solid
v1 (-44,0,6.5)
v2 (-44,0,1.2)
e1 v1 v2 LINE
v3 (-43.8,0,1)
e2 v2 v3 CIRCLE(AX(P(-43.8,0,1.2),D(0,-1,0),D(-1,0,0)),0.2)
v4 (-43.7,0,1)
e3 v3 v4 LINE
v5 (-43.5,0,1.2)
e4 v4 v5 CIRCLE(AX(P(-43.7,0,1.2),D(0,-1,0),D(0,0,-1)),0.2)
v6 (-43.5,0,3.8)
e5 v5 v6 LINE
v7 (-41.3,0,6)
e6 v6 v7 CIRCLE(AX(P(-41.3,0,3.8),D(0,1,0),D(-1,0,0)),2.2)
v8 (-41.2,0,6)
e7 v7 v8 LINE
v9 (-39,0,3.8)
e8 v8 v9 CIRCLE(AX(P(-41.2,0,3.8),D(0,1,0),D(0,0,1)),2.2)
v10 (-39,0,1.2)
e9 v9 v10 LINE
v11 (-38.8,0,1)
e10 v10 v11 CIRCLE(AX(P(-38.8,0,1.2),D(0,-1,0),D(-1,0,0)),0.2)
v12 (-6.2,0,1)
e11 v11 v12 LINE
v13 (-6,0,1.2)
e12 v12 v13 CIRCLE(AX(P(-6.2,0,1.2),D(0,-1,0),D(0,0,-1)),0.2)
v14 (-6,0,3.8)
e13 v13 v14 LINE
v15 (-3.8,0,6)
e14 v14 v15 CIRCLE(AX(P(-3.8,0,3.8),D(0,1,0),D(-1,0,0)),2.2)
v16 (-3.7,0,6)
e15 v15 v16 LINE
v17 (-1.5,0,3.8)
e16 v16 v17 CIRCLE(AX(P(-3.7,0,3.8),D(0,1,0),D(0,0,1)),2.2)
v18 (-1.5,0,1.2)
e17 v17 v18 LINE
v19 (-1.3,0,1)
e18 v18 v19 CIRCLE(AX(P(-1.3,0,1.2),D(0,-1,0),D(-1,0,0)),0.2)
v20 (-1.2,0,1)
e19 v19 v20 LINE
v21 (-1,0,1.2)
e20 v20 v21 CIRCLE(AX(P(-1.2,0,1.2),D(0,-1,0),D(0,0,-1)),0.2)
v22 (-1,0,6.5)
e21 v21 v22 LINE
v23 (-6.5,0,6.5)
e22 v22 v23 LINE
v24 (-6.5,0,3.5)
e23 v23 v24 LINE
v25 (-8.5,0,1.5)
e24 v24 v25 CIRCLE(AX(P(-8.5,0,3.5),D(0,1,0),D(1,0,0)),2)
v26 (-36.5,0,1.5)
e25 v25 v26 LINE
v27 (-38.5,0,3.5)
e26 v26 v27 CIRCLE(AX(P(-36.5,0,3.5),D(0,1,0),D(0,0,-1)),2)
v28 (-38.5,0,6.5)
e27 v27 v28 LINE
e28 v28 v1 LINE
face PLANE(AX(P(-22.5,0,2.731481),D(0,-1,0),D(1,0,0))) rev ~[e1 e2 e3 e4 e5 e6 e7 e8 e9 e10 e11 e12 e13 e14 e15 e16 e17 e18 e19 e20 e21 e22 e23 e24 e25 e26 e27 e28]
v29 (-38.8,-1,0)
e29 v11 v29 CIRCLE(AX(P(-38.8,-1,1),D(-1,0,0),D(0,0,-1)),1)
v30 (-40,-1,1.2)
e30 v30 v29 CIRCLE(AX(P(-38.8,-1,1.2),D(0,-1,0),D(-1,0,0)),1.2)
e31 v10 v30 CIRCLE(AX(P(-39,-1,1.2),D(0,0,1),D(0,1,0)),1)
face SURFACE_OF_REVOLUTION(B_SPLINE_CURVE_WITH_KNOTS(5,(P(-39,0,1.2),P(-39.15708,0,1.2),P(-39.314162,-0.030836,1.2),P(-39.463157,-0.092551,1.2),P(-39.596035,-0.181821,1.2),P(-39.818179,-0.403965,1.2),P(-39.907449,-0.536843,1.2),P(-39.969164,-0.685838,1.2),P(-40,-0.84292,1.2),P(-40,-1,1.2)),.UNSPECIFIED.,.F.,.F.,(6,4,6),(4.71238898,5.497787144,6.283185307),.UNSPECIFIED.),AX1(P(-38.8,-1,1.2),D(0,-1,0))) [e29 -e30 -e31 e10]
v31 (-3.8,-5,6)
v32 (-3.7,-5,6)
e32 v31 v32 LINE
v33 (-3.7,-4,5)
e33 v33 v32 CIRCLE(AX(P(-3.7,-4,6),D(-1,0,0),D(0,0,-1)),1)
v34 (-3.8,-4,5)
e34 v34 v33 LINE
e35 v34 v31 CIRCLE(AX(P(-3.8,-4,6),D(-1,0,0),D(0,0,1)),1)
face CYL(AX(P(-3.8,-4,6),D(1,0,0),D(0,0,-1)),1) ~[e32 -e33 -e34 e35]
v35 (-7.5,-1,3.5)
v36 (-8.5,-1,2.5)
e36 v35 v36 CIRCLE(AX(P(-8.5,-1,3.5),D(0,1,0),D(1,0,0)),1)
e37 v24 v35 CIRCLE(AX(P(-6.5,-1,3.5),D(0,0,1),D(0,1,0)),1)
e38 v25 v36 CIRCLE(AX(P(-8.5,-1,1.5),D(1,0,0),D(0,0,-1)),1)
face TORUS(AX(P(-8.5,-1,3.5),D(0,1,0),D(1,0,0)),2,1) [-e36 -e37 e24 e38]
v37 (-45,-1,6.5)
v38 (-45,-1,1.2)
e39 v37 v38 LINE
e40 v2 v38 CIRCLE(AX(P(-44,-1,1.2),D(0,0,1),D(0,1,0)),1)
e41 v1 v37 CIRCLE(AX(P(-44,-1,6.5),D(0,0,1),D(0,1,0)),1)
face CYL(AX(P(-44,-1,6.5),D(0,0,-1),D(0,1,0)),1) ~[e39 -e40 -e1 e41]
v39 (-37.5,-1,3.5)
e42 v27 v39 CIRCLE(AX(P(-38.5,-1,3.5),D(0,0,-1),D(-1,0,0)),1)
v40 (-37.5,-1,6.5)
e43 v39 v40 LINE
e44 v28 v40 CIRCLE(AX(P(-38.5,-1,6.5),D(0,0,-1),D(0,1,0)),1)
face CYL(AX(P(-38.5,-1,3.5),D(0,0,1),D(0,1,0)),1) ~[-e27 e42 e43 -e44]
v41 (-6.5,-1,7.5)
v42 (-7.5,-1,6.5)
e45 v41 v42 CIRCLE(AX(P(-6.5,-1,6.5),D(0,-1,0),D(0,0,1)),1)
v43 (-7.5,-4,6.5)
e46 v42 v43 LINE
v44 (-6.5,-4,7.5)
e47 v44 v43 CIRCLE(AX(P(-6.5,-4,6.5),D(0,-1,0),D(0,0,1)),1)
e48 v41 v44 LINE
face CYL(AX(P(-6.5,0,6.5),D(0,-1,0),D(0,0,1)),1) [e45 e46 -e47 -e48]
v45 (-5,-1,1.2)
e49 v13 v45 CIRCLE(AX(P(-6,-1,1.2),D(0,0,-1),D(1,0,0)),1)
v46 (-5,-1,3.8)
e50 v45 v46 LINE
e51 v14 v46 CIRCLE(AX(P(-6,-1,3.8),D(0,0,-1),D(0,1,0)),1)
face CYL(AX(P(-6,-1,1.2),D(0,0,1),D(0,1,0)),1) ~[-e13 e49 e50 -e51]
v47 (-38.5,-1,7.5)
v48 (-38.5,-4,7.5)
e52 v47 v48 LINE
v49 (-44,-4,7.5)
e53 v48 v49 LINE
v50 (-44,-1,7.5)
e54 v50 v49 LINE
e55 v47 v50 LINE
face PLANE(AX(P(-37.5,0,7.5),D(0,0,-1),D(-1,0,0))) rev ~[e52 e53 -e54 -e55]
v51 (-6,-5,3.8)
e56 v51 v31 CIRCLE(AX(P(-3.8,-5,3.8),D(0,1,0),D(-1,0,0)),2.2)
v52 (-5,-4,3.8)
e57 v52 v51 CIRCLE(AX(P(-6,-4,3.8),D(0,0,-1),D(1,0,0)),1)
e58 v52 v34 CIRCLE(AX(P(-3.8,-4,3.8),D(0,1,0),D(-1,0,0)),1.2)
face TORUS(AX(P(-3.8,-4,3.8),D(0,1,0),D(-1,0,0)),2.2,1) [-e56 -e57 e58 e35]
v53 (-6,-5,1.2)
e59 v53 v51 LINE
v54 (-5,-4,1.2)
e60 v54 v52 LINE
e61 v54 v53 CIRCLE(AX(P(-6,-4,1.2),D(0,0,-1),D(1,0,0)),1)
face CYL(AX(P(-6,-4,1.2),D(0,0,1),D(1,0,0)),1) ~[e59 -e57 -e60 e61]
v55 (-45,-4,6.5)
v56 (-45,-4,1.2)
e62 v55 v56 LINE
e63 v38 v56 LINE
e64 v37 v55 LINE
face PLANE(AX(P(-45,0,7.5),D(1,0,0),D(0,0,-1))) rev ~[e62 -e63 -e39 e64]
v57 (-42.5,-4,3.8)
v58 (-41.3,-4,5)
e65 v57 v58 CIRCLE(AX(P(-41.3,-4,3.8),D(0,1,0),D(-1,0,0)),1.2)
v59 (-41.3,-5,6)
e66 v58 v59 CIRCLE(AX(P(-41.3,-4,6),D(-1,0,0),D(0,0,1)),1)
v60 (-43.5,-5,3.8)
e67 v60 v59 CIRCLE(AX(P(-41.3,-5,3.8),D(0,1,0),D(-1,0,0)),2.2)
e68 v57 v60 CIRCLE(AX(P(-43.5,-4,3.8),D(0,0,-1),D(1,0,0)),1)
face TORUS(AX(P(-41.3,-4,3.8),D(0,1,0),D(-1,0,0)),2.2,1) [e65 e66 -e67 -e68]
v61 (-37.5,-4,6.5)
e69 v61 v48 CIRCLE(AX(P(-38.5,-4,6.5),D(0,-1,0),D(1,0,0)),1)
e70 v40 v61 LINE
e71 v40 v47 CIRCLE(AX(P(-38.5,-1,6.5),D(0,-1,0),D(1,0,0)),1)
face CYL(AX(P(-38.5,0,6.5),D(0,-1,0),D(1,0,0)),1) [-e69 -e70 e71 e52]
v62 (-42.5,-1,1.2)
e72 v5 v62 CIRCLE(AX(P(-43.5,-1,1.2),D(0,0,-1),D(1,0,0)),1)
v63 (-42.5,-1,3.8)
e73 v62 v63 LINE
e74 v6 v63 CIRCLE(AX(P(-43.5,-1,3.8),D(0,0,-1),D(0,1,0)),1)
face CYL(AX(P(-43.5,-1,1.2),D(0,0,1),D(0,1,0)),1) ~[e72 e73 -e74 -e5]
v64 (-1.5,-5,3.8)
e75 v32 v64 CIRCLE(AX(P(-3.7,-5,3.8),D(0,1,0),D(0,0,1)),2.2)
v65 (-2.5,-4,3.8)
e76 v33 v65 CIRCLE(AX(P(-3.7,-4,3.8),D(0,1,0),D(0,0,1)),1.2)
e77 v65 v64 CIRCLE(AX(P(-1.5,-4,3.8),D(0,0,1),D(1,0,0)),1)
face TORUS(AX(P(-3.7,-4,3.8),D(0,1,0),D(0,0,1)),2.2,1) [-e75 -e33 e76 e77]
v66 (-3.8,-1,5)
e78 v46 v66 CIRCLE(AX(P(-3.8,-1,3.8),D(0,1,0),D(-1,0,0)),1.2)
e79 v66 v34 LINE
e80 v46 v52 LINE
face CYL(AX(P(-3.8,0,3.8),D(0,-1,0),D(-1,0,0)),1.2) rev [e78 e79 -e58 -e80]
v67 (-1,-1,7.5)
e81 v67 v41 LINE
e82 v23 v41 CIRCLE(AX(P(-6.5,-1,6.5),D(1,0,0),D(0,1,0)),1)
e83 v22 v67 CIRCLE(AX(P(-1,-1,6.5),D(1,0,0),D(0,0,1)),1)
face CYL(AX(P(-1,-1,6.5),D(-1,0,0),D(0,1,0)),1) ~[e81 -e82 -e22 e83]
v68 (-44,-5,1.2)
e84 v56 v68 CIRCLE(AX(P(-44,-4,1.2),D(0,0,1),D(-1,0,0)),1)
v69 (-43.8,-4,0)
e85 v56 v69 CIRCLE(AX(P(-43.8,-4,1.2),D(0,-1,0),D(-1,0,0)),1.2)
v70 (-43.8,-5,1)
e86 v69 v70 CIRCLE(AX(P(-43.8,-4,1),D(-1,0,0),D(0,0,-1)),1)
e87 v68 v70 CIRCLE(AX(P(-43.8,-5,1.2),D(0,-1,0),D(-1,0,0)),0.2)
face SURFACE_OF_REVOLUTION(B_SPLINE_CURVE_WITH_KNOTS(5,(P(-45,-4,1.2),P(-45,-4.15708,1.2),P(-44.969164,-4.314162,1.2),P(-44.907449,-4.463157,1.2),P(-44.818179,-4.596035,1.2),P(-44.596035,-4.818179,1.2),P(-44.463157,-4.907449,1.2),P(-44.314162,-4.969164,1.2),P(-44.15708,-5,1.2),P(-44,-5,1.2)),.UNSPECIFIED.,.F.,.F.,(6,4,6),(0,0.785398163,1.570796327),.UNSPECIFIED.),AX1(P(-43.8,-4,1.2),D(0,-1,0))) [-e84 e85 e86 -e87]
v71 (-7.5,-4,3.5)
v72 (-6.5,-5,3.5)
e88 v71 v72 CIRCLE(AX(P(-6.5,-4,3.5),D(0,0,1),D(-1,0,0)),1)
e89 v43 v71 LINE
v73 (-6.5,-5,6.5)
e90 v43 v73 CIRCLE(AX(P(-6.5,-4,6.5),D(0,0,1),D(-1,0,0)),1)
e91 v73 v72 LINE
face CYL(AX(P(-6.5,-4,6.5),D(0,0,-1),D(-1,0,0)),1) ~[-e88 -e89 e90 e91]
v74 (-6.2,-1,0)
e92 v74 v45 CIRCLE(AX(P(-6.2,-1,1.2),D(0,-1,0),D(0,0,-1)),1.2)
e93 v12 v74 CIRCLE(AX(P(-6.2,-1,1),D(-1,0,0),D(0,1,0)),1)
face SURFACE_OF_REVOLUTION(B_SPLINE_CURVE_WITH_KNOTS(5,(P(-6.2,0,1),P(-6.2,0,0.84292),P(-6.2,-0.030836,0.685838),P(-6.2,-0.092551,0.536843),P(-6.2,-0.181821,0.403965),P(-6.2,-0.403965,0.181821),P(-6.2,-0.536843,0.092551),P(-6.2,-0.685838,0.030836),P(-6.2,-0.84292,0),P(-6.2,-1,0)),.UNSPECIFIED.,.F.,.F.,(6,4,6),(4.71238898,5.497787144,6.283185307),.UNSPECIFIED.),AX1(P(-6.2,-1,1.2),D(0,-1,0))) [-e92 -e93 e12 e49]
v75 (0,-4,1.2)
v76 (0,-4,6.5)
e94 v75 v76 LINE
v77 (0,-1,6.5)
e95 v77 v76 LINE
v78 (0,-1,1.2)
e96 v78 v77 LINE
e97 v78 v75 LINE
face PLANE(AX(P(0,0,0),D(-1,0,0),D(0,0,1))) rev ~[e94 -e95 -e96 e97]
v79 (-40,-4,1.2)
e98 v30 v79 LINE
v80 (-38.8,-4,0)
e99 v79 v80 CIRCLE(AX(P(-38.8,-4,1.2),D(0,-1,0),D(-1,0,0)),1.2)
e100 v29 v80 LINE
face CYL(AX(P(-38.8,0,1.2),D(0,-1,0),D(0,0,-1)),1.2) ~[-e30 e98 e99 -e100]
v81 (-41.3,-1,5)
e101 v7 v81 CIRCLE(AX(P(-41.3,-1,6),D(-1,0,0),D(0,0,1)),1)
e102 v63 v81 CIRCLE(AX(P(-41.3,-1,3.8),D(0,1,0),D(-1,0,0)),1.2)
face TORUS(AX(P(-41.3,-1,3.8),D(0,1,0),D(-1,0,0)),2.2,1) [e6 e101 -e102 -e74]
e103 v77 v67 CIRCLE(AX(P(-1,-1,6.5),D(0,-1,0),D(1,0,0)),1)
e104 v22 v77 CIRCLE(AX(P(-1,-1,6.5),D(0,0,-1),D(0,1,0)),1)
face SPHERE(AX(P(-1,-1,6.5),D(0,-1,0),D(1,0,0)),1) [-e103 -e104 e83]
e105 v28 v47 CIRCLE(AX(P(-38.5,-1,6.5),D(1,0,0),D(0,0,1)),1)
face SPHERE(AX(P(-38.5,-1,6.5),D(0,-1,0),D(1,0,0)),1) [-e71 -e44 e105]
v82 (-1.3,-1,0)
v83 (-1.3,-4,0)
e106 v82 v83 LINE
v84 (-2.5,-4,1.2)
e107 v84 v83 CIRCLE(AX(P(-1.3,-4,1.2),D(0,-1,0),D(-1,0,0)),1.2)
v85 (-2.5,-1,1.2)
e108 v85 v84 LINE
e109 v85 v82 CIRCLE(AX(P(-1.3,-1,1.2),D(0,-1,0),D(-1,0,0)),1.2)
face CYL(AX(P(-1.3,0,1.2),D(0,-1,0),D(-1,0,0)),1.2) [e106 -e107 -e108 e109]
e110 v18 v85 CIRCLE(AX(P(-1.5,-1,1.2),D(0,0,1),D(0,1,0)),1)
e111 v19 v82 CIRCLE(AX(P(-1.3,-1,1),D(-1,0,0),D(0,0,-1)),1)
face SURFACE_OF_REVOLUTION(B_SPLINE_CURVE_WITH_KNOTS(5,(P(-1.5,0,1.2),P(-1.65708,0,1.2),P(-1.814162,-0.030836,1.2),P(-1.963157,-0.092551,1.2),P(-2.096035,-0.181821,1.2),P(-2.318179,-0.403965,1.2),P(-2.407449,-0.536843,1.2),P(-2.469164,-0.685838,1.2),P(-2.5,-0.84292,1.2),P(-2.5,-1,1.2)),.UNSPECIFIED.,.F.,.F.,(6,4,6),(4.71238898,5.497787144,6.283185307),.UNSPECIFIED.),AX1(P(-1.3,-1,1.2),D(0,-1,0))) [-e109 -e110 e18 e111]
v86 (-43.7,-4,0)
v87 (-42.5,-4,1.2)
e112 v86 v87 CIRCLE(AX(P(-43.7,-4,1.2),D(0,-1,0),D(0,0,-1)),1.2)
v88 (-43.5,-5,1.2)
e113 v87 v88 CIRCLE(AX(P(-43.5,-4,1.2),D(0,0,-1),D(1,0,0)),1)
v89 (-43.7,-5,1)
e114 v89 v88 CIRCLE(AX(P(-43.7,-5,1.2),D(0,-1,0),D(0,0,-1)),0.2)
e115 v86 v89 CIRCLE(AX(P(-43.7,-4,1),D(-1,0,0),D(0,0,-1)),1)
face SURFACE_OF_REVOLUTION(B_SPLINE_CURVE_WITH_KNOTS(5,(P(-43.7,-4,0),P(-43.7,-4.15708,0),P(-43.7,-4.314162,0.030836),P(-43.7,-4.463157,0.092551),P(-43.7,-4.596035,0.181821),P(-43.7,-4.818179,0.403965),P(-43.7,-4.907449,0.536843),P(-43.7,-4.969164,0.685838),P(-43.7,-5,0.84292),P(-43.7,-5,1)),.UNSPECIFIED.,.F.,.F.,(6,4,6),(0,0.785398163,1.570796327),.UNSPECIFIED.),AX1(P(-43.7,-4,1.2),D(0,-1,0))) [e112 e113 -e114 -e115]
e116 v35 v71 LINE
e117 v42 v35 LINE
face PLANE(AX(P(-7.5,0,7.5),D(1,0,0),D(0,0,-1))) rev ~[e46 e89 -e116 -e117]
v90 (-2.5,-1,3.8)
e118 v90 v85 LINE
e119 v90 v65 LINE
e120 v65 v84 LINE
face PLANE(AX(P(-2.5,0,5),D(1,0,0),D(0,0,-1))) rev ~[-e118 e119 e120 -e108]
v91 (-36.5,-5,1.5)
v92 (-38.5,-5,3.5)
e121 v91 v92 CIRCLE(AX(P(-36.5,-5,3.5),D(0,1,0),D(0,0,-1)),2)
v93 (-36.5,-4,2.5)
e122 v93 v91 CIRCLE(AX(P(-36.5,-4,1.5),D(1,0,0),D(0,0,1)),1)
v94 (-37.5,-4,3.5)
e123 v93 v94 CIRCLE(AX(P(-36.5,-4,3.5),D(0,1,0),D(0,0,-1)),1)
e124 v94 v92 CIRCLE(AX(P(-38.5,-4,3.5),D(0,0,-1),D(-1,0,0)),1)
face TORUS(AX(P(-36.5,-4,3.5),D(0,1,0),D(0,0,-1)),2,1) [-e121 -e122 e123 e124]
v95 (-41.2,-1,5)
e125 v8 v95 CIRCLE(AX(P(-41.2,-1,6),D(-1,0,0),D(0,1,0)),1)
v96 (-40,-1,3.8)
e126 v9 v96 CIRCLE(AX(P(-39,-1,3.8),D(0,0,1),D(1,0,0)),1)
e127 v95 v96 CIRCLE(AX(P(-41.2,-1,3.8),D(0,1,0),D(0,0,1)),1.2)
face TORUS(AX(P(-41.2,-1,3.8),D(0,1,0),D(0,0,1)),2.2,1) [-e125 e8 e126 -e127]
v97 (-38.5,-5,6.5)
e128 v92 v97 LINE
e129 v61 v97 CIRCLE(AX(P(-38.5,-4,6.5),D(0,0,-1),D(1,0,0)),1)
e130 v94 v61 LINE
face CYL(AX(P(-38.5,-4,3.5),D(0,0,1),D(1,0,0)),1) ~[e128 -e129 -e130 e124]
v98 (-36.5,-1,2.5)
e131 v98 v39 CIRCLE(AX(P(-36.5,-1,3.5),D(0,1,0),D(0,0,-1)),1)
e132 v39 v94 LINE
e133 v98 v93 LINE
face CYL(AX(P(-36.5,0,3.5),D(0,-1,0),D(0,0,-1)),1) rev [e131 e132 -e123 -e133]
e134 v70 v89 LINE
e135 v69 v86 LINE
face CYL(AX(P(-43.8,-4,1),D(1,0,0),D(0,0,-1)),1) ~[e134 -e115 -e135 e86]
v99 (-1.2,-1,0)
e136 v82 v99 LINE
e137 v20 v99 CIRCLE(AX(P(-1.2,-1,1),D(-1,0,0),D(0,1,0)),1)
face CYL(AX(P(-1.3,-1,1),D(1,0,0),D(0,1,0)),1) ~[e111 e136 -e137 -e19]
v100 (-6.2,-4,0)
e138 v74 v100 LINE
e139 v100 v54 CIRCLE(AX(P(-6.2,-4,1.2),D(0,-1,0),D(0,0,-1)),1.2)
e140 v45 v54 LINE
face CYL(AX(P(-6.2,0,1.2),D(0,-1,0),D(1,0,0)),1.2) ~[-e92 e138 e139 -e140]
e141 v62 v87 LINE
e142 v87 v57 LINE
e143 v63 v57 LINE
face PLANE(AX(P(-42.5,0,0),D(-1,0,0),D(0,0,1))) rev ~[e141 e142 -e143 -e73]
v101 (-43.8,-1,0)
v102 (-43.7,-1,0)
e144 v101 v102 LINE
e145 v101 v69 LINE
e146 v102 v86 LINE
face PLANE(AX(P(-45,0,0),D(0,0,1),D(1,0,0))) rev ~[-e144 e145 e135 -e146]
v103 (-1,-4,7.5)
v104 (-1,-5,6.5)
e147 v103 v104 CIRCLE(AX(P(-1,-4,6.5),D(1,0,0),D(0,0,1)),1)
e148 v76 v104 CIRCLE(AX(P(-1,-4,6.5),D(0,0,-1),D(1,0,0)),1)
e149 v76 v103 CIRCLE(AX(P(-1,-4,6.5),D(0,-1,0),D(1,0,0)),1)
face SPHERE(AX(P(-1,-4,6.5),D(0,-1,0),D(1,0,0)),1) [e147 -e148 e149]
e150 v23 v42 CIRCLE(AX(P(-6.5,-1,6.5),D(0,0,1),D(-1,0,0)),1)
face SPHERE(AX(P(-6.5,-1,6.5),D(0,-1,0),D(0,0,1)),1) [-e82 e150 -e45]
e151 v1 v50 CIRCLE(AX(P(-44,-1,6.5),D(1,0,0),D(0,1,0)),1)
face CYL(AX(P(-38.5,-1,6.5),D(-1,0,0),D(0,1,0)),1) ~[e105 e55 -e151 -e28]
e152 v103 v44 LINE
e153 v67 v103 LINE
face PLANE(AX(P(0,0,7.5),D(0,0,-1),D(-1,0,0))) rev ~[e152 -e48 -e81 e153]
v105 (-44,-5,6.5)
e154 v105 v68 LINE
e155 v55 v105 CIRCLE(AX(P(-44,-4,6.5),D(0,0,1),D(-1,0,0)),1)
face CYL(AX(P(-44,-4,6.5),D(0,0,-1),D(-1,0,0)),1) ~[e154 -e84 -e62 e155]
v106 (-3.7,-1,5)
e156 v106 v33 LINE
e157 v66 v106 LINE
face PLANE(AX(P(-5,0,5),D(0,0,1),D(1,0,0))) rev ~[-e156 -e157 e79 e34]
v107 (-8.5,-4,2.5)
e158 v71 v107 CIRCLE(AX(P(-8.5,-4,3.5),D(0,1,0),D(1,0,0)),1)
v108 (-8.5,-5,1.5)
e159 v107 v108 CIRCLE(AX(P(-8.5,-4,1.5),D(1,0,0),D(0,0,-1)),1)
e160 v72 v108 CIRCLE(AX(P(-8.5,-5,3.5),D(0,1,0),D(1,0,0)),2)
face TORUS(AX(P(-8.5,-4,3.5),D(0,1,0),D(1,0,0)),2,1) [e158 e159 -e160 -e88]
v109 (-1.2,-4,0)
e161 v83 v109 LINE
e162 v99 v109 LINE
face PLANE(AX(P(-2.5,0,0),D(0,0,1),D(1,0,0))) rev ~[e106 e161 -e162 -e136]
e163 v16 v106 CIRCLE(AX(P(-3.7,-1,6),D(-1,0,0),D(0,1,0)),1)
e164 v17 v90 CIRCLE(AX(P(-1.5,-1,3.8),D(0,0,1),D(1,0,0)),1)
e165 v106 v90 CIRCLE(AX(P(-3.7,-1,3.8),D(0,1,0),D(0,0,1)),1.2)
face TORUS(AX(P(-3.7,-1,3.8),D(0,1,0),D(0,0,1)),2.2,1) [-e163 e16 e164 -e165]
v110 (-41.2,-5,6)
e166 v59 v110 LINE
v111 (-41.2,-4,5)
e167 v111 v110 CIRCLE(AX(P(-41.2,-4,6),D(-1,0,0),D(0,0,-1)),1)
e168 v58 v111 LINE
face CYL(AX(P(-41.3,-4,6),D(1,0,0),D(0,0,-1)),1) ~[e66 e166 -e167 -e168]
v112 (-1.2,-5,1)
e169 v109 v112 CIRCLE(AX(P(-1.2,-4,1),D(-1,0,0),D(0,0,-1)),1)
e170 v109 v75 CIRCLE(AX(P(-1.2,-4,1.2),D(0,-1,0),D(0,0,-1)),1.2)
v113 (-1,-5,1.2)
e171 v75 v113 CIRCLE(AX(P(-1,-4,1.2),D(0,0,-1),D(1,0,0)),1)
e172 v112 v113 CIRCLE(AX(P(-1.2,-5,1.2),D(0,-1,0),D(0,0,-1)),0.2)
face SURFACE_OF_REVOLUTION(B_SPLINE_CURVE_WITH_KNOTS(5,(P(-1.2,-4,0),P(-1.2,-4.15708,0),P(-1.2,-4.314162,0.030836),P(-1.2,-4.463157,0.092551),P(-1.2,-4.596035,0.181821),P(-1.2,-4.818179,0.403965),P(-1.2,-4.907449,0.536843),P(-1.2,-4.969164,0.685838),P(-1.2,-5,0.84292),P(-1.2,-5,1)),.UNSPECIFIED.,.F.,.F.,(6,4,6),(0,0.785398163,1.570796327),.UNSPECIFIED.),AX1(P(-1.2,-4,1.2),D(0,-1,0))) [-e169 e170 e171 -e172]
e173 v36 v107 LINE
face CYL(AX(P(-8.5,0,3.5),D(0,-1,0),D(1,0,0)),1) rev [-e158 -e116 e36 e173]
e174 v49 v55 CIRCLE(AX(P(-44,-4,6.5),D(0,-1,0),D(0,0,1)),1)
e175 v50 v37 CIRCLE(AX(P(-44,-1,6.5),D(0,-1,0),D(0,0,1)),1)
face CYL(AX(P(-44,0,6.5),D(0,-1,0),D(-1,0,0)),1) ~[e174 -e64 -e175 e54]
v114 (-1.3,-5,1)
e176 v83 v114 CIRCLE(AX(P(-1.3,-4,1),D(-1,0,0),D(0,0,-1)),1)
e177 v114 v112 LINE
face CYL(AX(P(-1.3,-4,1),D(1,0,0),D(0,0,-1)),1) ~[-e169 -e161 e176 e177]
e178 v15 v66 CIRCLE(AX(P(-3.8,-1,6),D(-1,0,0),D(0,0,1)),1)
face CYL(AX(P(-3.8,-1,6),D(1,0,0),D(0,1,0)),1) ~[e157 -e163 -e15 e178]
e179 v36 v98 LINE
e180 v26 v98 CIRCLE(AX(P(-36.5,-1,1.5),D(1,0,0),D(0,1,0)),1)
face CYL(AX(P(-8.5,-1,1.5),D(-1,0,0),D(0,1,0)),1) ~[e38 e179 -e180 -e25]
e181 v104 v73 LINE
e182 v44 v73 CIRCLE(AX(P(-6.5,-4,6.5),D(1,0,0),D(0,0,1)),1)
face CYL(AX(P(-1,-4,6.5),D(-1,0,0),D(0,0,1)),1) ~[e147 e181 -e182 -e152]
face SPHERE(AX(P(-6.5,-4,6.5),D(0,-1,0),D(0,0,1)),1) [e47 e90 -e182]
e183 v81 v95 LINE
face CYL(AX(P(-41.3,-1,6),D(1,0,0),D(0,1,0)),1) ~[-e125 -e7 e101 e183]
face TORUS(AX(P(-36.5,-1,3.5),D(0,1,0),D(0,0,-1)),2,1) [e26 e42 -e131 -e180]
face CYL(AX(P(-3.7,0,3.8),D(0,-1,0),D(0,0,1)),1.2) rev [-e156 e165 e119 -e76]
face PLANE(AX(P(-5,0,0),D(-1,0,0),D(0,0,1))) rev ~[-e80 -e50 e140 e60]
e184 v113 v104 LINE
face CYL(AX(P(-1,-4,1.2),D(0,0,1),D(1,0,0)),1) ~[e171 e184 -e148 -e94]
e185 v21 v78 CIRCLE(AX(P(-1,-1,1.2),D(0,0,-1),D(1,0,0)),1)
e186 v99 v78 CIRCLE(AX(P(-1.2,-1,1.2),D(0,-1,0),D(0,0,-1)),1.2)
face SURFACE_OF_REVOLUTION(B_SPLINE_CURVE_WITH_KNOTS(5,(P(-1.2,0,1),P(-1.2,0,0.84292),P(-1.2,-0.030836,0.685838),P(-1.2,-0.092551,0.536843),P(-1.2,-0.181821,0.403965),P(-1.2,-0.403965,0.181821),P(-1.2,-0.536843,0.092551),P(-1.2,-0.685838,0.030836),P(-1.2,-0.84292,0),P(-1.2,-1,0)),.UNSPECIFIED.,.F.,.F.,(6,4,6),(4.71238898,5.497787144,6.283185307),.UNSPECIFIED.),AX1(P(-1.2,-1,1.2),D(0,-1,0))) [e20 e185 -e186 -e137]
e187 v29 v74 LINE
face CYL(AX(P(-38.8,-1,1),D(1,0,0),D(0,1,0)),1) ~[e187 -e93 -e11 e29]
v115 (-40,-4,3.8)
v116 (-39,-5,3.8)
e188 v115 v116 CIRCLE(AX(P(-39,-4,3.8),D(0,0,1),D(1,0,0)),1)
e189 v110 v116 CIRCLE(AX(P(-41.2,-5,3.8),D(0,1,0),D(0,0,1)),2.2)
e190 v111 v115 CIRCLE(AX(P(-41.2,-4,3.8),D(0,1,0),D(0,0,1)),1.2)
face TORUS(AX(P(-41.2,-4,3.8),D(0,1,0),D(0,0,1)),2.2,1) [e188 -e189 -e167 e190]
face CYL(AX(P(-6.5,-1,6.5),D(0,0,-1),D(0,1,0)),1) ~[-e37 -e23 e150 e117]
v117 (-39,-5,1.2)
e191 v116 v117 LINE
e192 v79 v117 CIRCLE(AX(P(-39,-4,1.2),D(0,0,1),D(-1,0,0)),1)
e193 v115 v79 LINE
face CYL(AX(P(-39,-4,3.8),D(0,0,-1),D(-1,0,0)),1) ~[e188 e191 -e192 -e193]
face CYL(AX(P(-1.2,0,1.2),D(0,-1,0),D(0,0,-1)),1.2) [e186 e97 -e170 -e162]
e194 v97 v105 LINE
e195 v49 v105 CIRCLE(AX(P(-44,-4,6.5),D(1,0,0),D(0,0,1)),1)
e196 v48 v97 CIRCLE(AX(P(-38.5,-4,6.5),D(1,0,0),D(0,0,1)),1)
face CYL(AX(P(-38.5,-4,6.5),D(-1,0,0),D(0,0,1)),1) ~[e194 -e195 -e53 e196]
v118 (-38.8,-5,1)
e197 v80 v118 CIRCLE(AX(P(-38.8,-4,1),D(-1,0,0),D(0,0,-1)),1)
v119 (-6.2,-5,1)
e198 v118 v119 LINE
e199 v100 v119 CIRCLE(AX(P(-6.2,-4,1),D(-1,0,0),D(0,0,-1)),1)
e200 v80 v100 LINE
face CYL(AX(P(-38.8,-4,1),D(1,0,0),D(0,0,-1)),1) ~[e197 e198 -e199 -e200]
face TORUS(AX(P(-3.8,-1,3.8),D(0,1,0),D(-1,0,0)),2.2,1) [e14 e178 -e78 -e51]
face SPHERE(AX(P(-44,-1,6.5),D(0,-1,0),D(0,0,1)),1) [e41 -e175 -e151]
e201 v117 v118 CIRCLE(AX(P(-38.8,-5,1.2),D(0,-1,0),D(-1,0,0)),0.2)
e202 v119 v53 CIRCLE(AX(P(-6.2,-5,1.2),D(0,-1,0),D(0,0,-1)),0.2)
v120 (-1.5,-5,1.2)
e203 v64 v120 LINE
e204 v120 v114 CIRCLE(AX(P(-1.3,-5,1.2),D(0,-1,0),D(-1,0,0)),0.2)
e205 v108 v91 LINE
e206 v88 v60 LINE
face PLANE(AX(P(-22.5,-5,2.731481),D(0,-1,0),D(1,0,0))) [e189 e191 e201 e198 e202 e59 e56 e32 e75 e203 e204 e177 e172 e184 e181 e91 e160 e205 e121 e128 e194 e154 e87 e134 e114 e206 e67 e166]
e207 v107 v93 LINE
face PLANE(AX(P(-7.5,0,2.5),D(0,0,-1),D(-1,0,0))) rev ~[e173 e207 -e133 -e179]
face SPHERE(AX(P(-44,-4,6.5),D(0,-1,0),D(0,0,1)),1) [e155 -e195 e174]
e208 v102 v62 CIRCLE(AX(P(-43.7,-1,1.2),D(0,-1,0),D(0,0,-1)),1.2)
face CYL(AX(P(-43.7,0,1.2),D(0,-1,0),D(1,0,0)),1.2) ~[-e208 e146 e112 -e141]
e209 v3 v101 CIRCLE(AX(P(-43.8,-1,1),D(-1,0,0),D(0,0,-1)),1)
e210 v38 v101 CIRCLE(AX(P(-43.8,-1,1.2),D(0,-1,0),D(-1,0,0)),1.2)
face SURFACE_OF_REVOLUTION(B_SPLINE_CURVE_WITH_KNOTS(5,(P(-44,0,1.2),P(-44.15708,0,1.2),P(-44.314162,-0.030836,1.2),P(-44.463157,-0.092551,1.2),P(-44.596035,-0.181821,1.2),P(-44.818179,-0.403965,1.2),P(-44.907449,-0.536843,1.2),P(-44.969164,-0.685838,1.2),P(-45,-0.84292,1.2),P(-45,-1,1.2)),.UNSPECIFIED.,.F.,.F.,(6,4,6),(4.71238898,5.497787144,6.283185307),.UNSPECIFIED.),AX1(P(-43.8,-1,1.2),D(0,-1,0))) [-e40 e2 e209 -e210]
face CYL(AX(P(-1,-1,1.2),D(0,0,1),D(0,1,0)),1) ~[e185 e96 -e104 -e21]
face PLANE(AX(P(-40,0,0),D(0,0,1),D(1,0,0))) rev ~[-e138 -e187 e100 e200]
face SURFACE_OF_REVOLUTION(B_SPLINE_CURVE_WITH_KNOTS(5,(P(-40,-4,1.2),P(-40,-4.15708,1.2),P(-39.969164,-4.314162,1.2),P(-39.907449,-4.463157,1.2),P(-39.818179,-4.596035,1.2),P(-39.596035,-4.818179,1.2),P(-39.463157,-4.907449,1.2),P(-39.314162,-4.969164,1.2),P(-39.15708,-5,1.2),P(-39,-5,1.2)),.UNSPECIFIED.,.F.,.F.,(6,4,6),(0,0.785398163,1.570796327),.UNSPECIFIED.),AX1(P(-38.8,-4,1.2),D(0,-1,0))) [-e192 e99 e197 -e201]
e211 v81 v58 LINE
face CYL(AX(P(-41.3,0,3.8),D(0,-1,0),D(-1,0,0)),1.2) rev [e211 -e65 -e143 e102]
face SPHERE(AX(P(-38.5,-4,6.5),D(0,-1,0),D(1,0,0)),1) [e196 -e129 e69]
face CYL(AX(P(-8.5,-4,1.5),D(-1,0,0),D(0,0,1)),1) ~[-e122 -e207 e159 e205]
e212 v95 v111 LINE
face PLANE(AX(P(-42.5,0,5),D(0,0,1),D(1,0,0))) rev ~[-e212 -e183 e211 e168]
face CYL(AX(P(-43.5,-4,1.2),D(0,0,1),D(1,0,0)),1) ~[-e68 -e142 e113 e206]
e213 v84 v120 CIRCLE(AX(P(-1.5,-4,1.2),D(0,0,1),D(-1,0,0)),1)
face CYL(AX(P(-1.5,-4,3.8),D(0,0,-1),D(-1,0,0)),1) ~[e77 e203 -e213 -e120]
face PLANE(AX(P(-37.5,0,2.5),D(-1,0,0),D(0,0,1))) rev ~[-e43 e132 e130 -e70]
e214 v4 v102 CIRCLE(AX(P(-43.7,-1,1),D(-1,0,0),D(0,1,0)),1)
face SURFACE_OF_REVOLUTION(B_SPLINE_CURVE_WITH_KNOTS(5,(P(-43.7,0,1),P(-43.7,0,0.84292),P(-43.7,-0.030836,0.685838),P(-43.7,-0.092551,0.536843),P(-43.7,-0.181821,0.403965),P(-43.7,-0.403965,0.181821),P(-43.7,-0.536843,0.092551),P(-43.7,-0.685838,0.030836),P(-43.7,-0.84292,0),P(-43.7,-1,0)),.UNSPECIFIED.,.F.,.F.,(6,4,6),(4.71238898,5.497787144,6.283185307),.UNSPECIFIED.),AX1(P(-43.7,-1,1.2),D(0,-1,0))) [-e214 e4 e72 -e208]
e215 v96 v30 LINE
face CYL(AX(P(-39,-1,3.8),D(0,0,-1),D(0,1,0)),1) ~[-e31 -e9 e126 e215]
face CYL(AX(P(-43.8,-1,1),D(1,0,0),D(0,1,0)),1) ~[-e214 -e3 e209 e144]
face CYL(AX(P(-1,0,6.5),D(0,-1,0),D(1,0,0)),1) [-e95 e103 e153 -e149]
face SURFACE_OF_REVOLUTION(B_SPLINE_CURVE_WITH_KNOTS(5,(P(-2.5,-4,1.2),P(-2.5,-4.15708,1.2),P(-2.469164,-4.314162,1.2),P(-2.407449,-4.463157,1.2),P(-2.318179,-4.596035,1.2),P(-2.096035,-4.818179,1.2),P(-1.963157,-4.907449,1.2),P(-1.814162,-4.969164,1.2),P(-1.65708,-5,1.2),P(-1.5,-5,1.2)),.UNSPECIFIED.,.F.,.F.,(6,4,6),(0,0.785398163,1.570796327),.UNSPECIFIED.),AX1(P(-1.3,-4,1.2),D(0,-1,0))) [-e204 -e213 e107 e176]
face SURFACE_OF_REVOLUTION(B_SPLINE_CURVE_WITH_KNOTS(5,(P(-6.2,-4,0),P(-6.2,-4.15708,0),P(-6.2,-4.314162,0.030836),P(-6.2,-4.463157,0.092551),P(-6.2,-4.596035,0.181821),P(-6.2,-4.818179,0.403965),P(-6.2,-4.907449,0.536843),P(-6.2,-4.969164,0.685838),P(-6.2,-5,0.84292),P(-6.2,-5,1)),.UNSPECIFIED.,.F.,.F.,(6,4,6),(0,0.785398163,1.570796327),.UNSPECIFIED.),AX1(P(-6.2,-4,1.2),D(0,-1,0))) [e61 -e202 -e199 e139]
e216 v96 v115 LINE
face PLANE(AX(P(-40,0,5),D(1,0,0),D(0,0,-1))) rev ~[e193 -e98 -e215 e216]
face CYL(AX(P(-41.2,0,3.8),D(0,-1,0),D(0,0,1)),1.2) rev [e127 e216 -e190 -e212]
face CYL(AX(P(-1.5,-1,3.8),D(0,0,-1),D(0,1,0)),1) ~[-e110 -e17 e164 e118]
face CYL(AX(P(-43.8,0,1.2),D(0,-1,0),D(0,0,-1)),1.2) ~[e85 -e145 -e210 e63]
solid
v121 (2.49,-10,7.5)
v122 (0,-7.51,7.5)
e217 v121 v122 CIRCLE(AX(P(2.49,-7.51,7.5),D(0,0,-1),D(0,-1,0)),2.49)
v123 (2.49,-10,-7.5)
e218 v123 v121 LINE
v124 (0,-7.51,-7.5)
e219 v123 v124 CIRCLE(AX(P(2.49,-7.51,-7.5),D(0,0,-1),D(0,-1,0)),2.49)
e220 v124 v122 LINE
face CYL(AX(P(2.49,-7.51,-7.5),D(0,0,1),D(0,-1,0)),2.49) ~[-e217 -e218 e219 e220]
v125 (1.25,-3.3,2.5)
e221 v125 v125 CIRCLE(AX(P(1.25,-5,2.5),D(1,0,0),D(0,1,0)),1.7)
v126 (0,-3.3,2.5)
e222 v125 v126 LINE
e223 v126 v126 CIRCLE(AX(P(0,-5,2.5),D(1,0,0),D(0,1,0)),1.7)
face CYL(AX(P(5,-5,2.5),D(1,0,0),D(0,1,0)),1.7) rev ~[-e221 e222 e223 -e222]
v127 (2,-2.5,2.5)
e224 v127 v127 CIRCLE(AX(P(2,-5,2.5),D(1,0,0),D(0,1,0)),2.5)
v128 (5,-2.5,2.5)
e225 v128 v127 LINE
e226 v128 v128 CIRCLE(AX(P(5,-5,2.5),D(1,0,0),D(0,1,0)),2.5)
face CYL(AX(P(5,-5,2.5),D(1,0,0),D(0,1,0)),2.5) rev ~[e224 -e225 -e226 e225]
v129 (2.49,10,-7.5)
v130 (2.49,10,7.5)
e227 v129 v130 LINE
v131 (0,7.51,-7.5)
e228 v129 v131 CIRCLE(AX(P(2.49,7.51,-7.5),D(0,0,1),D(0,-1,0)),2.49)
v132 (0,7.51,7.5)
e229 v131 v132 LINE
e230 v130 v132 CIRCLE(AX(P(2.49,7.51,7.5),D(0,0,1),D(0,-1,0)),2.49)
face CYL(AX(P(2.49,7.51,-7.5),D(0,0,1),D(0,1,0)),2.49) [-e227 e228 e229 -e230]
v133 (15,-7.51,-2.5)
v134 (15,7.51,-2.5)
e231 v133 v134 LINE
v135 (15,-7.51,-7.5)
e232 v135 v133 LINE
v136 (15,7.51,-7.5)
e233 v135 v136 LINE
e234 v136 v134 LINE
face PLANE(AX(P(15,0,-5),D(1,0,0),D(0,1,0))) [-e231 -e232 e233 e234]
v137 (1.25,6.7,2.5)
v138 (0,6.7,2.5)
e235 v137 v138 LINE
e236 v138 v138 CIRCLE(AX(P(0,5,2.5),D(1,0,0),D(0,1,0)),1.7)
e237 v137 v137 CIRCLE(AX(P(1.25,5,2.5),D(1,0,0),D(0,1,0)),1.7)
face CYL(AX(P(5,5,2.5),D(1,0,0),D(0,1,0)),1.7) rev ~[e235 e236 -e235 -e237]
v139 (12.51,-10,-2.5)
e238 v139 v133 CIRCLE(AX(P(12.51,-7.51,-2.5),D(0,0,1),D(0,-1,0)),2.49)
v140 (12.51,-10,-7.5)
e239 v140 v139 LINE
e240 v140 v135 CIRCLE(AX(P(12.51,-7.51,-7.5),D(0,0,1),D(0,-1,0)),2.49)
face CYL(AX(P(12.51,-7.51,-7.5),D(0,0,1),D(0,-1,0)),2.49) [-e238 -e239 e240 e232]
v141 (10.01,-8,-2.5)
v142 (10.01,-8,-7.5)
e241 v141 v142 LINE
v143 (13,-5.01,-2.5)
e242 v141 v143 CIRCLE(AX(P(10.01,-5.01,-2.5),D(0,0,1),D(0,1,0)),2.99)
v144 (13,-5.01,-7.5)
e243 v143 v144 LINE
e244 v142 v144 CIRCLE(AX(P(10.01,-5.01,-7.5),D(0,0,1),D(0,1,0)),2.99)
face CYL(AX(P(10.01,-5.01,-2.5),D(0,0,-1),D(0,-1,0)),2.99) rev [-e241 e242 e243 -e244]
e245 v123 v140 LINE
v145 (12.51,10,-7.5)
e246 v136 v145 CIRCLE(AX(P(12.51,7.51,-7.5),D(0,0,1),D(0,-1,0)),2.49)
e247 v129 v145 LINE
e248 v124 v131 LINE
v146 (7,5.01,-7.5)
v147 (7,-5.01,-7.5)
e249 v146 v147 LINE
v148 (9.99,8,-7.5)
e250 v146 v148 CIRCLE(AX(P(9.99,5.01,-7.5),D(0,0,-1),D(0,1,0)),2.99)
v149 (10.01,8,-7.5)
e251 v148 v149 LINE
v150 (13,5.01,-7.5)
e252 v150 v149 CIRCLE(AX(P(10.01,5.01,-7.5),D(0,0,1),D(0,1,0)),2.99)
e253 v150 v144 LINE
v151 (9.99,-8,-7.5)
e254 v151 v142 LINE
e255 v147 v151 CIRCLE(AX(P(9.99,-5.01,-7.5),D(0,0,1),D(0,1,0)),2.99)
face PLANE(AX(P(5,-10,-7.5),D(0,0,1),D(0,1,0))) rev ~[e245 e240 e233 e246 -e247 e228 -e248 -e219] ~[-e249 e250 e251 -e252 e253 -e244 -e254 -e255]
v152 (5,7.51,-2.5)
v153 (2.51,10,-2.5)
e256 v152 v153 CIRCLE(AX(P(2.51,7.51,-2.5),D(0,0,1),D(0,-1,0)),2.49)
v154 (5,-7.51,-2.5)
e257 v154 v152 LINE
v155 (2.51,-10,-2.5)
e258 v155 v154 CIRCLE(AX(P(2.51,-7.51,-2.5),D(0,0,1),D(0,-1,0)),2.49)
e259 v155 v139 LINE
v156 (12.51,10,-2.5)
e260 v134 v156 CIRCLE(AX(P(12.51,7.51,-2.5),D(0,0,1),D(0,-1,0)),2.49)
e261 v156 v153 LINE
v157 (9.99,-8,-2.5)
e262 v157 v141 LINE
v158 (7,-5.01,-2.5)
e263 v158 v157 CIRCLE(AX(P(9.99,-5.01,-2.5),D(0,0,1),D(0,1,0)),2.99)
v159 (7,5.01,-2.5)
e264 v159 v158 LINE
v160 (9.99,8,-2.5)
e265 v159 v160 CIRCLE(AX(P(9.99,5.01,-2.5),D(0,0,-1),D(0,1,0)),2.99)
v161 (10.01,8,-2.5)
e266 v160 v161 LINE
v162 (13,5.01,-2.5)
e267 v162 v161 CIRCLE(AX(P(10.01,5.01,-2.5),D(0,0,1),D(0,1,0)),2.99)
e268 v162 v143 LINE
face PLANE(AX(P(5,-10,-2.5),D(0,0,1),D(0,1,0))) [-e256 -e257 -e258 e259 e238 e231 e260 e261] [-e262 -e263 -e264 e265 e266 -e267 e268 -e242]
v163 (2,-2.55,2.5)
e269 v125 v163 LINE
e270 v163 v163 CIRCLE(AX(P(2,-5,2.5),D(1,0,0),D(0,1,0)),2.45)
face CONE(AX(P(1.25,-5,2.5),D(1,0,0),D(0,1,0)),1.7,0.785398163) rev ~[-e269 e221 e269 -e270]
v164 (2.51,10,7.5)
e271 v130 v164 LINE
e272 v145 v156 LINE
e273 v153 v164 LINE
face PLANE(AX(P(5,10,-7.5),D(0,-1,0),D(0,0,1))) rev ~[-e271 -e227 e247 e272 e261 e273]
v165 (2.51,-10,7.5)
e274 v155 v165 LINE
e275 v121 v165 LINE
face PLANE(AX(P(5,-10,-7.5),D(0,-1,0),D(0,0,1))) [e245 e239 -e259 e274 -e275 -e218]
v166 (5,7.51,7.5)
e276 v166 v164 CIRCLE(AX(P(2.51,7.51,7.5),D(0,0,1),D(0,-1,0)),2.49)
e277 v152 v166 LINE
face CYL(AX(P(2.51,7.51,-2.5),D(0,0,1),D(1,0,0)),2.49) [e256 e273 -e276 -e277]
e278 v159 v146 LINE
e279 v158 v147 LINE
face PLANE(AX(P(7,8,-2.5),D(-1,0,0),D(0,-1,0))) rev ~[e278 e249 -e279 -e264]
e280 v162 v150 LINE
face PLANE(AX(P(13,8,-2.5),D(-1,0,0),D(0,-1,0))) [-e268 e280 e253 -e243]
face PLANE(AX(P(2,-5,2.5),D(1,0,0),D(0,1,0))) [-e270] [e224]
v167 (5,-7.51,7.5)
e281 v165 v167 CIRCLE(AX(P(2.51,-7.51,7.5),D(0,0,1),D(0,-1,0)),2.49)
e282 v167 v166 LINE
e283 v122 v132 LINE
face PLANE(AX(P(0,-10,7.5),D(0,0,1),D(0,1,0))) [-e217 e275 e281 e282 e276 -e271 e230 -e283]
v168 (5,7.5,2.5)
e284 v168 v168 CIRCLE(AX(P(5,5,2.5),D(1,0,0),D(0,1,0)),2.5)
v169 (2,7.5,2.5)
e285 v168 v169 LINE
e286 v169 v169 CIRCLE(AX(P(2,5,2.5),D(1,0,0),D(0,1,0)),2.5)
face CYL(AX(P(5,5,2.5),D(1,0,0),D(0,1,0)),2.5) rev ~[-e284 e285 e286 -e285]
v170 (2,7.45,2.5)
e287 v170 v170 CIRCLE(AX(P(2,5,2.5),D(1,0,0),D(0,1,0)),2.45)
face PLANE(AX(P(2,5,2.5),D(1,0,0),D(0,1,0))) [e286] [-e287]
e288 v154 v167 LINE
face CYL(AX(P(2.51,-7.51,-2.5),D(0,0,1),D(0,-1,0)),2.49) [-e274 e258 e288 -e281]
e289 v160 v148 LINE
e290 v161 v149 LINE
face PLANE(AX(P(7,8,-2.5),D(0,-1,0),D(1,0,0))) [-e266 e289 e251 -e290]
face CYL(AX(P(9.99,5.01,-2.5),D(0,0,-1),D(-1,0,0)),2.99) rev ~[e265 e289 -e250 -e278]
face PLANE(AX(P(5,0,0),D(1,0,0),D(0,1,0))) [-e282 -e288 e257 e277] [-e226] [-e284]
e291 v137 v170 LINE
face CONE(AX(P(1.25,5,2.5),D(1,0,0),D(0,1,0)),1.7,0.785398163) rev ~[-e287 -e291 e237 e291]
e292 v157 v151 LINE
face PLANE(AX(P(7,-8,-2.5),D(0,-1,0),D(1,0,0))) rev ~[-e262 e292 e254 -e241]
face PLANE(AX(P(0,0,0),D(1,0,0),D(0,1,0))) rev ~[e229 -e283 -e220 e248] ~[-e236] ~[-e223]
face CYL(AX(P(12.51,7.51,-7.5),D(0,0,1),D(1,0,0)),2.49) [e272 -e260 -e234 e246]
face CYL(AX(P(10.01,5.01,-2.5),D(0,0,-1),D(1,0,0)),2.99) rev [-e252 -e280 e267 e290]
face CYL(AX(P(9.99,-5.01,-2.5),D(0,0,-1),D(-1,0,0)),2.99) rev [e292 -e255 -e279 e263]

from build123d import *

# Parameters (mm, degrees)
SKETCH_W        = 20
SKETCH_H        = 15
PAD_DEPTH       = 5
SKETCH001_W     = 20
SKETCH001_H     = 5
PAD001_DEPTH    = 10
SKETCH002_W     = 16
SKETCH002_H     = 6
POCKET_DEPTH    = 5
SKETCH003_R     = 1.7
POCKET001_DEPTH = 5
SKETCH005_R     = 2.5
POCKET002_DEPTH = 3
FILLET_R        = 2.99
FILLET001_R     = 2.49
CHAMFER_SIZE    = 0.75
PAD002_DEPTH    = 5
FILLET002_R     = 1.2
FILLET003_R     = 1.2
FILLET004_R     = 1.2
FILLET005_R     = 1
FILLET006_R     = 1
FILLET007_R     = 1


with BuildPart() as body:
    # Sketch → Pad (new body)
    with BuildSketch(Plane.YZ):
        Rectangle(SKETCH_W, SKETCH_H)
    extrude(amount=PAD_DEPTH)

    # Sketch001 (on Face6 of Pad) → Pad001 (join)
    with BuildSketch(Plane.YZ.offset(5)):
        with Locations((0, -5)):
            Rectangle(SKETCH001_W, SKETCH001_H)
    extrude(amount=PAD001_DEPTH)

    # Sketch002 (on Face4 of Pad001) → Pocket (cut)
    with BuildSketch(Plane(origin=(0, 0, -2.5), x_dir=(0, -1, 0), z_dir=(0, 0, 1))):
        with Locations((0, 10)):
            Rectangle(SKETCH002_W, SKETCH002_H)
    extrude(amount=-POCKET_DEPTH, mode=Mode.SUBTRACT)

    # Sketch003 (on Face11 of Pocket) → Pocket001 (cut)
    with BuildSketch(Plane.YZ.offset(5)):
        with Locations((-5, 2.5)):
            Circle(SKETCH003_R)
        with Locations((5, 2.5)):
            Circle(SKETCH003_R)
    extrude(amount=-POCKET001_DEPTH, mode=Mode.SUBTRACT)

    # Sketch005 (on Face14 of Pocket001) → Pocket002 (cut)
    with BuildSketch(Plane.YZ.offset(5)):
        with Locations((-5, 2.5)):
            Circle(SKETCH005_R)
        with Locations((5, 2.5)):
            Circle(SKETCH005_R)
    extrude(amount=-POCKET002_DEPTH, mode=Mode.SUBTRACT)

    # Fillet
    fillet_edges = [body.edges().sort_by_distance(p)[0] for p in [
        (7, 8, -5),
        (13, 8, -5),
        (7, -8, -5),
        (13, -8, -5),
    ]]
    fillet(fillet_edges, radius=FILLET_R)

    # Fillet001
    fillet001_edges = [body.edges().sort_by_distance(p)[0] for p in [
        (15, 10, -5),
        (15, -10, -5),
        (0, -10, 0),
        (5, -10, 2.5),
        (5, 10, 2.5),
        (0, 10, 0),
    ]]
    fillet(fillet001_edges, radius=FILLET001_R)

    # Chamfer
    chamfer_edges = [body.edges().sort_by_distance(p)[0] for p in [
        (2, 3.3, 2.5),
        (2, -6.7, 2.5),
    ]]
    chamfer(chamfer_edges, length=CHAMFER_SIZE)


with BuildPart() as body001:
    # Sketch006 → Pad002 (new body)
    with BuildSketch(Plane.XZ):
        Polygon((0, 0), (0, 7.5), (-7.5, 7.5), (-7.5, 2.5), (-37.5, 2.5), (-37.5, 7.5), (-45, 7.5), (-45, 0), (-42.5, 0), (-42.5, 5), (-40, 5), (-40, 0), (-23.02, 0), (-11.49, 0), (-5, 0), (-5, 5), (-2.5, 5), (-2.5, 0), align=None)
    extrude(amount=PAD002_DEPTH)

    # Fillet002
    fillet002_edges = [body001.edges().sort_by_distance(p)[0] for p in [
        (-40, -2.5, 5),
        (-42.5, -2.5, 5),
    ]]
    fillet(fillet002_edges, radius=FILLET002_R)

    # Fillet003
    fillet003_edges = [body001.edges().sort_by_distance(p)[0] for p in [
        (-5, -2.5, 5),
        (-2.5, -2.5, 5),
    ]]
    fillet(fillet003_edges, radius=FILLET003_R)

    # Fillet004
    fillet004_edges = [body001.edges().sort_by_distance(p)[0] for p in [
        (-45, -2.5, 0),
        (-42.5, -2.5, 0),
        (-40, -2.5, 0),
        (-5, -2.5, 0),
        (-2.5, -2.5, 0),
        (0, -2.5, 0),
    ]]
    fillet(fillet004_edges, radius=FILLET004_R)

    # Fillet005
    fillet005_edges = [body001.edges().sort_by_distance(p)[0] for p in [
        (-45, -2.5, 7.5),
        (-37.5, -2.5, 7.5),
        (-37.5, -2.5, 2.5),
        (-7.5, -2.5, 2.5),
        (-7.5, -2.5, 7.5),
        (0, -2.5, 7.5),
    ]]
    fillet(fillet005_edges, radius=FILLET005_R)

    # Fillet006
    fillet006_edges = [body001.edges().sort_by_distance(p)[0] for p in [
        (-45, -5, 3.85),
    ]]
    fillet(fillet006_edges, radius=FILLET006_R)

    # Fillet007
    fillet007_edges = [body001.edges().sort_by_distance(p)[0] for p in [
        (-45, 0, 3.85),
    ]]
    fillet(fillet007_edges, radius=FILLET007_R)


solid = Compound([body.part, body001.part])
